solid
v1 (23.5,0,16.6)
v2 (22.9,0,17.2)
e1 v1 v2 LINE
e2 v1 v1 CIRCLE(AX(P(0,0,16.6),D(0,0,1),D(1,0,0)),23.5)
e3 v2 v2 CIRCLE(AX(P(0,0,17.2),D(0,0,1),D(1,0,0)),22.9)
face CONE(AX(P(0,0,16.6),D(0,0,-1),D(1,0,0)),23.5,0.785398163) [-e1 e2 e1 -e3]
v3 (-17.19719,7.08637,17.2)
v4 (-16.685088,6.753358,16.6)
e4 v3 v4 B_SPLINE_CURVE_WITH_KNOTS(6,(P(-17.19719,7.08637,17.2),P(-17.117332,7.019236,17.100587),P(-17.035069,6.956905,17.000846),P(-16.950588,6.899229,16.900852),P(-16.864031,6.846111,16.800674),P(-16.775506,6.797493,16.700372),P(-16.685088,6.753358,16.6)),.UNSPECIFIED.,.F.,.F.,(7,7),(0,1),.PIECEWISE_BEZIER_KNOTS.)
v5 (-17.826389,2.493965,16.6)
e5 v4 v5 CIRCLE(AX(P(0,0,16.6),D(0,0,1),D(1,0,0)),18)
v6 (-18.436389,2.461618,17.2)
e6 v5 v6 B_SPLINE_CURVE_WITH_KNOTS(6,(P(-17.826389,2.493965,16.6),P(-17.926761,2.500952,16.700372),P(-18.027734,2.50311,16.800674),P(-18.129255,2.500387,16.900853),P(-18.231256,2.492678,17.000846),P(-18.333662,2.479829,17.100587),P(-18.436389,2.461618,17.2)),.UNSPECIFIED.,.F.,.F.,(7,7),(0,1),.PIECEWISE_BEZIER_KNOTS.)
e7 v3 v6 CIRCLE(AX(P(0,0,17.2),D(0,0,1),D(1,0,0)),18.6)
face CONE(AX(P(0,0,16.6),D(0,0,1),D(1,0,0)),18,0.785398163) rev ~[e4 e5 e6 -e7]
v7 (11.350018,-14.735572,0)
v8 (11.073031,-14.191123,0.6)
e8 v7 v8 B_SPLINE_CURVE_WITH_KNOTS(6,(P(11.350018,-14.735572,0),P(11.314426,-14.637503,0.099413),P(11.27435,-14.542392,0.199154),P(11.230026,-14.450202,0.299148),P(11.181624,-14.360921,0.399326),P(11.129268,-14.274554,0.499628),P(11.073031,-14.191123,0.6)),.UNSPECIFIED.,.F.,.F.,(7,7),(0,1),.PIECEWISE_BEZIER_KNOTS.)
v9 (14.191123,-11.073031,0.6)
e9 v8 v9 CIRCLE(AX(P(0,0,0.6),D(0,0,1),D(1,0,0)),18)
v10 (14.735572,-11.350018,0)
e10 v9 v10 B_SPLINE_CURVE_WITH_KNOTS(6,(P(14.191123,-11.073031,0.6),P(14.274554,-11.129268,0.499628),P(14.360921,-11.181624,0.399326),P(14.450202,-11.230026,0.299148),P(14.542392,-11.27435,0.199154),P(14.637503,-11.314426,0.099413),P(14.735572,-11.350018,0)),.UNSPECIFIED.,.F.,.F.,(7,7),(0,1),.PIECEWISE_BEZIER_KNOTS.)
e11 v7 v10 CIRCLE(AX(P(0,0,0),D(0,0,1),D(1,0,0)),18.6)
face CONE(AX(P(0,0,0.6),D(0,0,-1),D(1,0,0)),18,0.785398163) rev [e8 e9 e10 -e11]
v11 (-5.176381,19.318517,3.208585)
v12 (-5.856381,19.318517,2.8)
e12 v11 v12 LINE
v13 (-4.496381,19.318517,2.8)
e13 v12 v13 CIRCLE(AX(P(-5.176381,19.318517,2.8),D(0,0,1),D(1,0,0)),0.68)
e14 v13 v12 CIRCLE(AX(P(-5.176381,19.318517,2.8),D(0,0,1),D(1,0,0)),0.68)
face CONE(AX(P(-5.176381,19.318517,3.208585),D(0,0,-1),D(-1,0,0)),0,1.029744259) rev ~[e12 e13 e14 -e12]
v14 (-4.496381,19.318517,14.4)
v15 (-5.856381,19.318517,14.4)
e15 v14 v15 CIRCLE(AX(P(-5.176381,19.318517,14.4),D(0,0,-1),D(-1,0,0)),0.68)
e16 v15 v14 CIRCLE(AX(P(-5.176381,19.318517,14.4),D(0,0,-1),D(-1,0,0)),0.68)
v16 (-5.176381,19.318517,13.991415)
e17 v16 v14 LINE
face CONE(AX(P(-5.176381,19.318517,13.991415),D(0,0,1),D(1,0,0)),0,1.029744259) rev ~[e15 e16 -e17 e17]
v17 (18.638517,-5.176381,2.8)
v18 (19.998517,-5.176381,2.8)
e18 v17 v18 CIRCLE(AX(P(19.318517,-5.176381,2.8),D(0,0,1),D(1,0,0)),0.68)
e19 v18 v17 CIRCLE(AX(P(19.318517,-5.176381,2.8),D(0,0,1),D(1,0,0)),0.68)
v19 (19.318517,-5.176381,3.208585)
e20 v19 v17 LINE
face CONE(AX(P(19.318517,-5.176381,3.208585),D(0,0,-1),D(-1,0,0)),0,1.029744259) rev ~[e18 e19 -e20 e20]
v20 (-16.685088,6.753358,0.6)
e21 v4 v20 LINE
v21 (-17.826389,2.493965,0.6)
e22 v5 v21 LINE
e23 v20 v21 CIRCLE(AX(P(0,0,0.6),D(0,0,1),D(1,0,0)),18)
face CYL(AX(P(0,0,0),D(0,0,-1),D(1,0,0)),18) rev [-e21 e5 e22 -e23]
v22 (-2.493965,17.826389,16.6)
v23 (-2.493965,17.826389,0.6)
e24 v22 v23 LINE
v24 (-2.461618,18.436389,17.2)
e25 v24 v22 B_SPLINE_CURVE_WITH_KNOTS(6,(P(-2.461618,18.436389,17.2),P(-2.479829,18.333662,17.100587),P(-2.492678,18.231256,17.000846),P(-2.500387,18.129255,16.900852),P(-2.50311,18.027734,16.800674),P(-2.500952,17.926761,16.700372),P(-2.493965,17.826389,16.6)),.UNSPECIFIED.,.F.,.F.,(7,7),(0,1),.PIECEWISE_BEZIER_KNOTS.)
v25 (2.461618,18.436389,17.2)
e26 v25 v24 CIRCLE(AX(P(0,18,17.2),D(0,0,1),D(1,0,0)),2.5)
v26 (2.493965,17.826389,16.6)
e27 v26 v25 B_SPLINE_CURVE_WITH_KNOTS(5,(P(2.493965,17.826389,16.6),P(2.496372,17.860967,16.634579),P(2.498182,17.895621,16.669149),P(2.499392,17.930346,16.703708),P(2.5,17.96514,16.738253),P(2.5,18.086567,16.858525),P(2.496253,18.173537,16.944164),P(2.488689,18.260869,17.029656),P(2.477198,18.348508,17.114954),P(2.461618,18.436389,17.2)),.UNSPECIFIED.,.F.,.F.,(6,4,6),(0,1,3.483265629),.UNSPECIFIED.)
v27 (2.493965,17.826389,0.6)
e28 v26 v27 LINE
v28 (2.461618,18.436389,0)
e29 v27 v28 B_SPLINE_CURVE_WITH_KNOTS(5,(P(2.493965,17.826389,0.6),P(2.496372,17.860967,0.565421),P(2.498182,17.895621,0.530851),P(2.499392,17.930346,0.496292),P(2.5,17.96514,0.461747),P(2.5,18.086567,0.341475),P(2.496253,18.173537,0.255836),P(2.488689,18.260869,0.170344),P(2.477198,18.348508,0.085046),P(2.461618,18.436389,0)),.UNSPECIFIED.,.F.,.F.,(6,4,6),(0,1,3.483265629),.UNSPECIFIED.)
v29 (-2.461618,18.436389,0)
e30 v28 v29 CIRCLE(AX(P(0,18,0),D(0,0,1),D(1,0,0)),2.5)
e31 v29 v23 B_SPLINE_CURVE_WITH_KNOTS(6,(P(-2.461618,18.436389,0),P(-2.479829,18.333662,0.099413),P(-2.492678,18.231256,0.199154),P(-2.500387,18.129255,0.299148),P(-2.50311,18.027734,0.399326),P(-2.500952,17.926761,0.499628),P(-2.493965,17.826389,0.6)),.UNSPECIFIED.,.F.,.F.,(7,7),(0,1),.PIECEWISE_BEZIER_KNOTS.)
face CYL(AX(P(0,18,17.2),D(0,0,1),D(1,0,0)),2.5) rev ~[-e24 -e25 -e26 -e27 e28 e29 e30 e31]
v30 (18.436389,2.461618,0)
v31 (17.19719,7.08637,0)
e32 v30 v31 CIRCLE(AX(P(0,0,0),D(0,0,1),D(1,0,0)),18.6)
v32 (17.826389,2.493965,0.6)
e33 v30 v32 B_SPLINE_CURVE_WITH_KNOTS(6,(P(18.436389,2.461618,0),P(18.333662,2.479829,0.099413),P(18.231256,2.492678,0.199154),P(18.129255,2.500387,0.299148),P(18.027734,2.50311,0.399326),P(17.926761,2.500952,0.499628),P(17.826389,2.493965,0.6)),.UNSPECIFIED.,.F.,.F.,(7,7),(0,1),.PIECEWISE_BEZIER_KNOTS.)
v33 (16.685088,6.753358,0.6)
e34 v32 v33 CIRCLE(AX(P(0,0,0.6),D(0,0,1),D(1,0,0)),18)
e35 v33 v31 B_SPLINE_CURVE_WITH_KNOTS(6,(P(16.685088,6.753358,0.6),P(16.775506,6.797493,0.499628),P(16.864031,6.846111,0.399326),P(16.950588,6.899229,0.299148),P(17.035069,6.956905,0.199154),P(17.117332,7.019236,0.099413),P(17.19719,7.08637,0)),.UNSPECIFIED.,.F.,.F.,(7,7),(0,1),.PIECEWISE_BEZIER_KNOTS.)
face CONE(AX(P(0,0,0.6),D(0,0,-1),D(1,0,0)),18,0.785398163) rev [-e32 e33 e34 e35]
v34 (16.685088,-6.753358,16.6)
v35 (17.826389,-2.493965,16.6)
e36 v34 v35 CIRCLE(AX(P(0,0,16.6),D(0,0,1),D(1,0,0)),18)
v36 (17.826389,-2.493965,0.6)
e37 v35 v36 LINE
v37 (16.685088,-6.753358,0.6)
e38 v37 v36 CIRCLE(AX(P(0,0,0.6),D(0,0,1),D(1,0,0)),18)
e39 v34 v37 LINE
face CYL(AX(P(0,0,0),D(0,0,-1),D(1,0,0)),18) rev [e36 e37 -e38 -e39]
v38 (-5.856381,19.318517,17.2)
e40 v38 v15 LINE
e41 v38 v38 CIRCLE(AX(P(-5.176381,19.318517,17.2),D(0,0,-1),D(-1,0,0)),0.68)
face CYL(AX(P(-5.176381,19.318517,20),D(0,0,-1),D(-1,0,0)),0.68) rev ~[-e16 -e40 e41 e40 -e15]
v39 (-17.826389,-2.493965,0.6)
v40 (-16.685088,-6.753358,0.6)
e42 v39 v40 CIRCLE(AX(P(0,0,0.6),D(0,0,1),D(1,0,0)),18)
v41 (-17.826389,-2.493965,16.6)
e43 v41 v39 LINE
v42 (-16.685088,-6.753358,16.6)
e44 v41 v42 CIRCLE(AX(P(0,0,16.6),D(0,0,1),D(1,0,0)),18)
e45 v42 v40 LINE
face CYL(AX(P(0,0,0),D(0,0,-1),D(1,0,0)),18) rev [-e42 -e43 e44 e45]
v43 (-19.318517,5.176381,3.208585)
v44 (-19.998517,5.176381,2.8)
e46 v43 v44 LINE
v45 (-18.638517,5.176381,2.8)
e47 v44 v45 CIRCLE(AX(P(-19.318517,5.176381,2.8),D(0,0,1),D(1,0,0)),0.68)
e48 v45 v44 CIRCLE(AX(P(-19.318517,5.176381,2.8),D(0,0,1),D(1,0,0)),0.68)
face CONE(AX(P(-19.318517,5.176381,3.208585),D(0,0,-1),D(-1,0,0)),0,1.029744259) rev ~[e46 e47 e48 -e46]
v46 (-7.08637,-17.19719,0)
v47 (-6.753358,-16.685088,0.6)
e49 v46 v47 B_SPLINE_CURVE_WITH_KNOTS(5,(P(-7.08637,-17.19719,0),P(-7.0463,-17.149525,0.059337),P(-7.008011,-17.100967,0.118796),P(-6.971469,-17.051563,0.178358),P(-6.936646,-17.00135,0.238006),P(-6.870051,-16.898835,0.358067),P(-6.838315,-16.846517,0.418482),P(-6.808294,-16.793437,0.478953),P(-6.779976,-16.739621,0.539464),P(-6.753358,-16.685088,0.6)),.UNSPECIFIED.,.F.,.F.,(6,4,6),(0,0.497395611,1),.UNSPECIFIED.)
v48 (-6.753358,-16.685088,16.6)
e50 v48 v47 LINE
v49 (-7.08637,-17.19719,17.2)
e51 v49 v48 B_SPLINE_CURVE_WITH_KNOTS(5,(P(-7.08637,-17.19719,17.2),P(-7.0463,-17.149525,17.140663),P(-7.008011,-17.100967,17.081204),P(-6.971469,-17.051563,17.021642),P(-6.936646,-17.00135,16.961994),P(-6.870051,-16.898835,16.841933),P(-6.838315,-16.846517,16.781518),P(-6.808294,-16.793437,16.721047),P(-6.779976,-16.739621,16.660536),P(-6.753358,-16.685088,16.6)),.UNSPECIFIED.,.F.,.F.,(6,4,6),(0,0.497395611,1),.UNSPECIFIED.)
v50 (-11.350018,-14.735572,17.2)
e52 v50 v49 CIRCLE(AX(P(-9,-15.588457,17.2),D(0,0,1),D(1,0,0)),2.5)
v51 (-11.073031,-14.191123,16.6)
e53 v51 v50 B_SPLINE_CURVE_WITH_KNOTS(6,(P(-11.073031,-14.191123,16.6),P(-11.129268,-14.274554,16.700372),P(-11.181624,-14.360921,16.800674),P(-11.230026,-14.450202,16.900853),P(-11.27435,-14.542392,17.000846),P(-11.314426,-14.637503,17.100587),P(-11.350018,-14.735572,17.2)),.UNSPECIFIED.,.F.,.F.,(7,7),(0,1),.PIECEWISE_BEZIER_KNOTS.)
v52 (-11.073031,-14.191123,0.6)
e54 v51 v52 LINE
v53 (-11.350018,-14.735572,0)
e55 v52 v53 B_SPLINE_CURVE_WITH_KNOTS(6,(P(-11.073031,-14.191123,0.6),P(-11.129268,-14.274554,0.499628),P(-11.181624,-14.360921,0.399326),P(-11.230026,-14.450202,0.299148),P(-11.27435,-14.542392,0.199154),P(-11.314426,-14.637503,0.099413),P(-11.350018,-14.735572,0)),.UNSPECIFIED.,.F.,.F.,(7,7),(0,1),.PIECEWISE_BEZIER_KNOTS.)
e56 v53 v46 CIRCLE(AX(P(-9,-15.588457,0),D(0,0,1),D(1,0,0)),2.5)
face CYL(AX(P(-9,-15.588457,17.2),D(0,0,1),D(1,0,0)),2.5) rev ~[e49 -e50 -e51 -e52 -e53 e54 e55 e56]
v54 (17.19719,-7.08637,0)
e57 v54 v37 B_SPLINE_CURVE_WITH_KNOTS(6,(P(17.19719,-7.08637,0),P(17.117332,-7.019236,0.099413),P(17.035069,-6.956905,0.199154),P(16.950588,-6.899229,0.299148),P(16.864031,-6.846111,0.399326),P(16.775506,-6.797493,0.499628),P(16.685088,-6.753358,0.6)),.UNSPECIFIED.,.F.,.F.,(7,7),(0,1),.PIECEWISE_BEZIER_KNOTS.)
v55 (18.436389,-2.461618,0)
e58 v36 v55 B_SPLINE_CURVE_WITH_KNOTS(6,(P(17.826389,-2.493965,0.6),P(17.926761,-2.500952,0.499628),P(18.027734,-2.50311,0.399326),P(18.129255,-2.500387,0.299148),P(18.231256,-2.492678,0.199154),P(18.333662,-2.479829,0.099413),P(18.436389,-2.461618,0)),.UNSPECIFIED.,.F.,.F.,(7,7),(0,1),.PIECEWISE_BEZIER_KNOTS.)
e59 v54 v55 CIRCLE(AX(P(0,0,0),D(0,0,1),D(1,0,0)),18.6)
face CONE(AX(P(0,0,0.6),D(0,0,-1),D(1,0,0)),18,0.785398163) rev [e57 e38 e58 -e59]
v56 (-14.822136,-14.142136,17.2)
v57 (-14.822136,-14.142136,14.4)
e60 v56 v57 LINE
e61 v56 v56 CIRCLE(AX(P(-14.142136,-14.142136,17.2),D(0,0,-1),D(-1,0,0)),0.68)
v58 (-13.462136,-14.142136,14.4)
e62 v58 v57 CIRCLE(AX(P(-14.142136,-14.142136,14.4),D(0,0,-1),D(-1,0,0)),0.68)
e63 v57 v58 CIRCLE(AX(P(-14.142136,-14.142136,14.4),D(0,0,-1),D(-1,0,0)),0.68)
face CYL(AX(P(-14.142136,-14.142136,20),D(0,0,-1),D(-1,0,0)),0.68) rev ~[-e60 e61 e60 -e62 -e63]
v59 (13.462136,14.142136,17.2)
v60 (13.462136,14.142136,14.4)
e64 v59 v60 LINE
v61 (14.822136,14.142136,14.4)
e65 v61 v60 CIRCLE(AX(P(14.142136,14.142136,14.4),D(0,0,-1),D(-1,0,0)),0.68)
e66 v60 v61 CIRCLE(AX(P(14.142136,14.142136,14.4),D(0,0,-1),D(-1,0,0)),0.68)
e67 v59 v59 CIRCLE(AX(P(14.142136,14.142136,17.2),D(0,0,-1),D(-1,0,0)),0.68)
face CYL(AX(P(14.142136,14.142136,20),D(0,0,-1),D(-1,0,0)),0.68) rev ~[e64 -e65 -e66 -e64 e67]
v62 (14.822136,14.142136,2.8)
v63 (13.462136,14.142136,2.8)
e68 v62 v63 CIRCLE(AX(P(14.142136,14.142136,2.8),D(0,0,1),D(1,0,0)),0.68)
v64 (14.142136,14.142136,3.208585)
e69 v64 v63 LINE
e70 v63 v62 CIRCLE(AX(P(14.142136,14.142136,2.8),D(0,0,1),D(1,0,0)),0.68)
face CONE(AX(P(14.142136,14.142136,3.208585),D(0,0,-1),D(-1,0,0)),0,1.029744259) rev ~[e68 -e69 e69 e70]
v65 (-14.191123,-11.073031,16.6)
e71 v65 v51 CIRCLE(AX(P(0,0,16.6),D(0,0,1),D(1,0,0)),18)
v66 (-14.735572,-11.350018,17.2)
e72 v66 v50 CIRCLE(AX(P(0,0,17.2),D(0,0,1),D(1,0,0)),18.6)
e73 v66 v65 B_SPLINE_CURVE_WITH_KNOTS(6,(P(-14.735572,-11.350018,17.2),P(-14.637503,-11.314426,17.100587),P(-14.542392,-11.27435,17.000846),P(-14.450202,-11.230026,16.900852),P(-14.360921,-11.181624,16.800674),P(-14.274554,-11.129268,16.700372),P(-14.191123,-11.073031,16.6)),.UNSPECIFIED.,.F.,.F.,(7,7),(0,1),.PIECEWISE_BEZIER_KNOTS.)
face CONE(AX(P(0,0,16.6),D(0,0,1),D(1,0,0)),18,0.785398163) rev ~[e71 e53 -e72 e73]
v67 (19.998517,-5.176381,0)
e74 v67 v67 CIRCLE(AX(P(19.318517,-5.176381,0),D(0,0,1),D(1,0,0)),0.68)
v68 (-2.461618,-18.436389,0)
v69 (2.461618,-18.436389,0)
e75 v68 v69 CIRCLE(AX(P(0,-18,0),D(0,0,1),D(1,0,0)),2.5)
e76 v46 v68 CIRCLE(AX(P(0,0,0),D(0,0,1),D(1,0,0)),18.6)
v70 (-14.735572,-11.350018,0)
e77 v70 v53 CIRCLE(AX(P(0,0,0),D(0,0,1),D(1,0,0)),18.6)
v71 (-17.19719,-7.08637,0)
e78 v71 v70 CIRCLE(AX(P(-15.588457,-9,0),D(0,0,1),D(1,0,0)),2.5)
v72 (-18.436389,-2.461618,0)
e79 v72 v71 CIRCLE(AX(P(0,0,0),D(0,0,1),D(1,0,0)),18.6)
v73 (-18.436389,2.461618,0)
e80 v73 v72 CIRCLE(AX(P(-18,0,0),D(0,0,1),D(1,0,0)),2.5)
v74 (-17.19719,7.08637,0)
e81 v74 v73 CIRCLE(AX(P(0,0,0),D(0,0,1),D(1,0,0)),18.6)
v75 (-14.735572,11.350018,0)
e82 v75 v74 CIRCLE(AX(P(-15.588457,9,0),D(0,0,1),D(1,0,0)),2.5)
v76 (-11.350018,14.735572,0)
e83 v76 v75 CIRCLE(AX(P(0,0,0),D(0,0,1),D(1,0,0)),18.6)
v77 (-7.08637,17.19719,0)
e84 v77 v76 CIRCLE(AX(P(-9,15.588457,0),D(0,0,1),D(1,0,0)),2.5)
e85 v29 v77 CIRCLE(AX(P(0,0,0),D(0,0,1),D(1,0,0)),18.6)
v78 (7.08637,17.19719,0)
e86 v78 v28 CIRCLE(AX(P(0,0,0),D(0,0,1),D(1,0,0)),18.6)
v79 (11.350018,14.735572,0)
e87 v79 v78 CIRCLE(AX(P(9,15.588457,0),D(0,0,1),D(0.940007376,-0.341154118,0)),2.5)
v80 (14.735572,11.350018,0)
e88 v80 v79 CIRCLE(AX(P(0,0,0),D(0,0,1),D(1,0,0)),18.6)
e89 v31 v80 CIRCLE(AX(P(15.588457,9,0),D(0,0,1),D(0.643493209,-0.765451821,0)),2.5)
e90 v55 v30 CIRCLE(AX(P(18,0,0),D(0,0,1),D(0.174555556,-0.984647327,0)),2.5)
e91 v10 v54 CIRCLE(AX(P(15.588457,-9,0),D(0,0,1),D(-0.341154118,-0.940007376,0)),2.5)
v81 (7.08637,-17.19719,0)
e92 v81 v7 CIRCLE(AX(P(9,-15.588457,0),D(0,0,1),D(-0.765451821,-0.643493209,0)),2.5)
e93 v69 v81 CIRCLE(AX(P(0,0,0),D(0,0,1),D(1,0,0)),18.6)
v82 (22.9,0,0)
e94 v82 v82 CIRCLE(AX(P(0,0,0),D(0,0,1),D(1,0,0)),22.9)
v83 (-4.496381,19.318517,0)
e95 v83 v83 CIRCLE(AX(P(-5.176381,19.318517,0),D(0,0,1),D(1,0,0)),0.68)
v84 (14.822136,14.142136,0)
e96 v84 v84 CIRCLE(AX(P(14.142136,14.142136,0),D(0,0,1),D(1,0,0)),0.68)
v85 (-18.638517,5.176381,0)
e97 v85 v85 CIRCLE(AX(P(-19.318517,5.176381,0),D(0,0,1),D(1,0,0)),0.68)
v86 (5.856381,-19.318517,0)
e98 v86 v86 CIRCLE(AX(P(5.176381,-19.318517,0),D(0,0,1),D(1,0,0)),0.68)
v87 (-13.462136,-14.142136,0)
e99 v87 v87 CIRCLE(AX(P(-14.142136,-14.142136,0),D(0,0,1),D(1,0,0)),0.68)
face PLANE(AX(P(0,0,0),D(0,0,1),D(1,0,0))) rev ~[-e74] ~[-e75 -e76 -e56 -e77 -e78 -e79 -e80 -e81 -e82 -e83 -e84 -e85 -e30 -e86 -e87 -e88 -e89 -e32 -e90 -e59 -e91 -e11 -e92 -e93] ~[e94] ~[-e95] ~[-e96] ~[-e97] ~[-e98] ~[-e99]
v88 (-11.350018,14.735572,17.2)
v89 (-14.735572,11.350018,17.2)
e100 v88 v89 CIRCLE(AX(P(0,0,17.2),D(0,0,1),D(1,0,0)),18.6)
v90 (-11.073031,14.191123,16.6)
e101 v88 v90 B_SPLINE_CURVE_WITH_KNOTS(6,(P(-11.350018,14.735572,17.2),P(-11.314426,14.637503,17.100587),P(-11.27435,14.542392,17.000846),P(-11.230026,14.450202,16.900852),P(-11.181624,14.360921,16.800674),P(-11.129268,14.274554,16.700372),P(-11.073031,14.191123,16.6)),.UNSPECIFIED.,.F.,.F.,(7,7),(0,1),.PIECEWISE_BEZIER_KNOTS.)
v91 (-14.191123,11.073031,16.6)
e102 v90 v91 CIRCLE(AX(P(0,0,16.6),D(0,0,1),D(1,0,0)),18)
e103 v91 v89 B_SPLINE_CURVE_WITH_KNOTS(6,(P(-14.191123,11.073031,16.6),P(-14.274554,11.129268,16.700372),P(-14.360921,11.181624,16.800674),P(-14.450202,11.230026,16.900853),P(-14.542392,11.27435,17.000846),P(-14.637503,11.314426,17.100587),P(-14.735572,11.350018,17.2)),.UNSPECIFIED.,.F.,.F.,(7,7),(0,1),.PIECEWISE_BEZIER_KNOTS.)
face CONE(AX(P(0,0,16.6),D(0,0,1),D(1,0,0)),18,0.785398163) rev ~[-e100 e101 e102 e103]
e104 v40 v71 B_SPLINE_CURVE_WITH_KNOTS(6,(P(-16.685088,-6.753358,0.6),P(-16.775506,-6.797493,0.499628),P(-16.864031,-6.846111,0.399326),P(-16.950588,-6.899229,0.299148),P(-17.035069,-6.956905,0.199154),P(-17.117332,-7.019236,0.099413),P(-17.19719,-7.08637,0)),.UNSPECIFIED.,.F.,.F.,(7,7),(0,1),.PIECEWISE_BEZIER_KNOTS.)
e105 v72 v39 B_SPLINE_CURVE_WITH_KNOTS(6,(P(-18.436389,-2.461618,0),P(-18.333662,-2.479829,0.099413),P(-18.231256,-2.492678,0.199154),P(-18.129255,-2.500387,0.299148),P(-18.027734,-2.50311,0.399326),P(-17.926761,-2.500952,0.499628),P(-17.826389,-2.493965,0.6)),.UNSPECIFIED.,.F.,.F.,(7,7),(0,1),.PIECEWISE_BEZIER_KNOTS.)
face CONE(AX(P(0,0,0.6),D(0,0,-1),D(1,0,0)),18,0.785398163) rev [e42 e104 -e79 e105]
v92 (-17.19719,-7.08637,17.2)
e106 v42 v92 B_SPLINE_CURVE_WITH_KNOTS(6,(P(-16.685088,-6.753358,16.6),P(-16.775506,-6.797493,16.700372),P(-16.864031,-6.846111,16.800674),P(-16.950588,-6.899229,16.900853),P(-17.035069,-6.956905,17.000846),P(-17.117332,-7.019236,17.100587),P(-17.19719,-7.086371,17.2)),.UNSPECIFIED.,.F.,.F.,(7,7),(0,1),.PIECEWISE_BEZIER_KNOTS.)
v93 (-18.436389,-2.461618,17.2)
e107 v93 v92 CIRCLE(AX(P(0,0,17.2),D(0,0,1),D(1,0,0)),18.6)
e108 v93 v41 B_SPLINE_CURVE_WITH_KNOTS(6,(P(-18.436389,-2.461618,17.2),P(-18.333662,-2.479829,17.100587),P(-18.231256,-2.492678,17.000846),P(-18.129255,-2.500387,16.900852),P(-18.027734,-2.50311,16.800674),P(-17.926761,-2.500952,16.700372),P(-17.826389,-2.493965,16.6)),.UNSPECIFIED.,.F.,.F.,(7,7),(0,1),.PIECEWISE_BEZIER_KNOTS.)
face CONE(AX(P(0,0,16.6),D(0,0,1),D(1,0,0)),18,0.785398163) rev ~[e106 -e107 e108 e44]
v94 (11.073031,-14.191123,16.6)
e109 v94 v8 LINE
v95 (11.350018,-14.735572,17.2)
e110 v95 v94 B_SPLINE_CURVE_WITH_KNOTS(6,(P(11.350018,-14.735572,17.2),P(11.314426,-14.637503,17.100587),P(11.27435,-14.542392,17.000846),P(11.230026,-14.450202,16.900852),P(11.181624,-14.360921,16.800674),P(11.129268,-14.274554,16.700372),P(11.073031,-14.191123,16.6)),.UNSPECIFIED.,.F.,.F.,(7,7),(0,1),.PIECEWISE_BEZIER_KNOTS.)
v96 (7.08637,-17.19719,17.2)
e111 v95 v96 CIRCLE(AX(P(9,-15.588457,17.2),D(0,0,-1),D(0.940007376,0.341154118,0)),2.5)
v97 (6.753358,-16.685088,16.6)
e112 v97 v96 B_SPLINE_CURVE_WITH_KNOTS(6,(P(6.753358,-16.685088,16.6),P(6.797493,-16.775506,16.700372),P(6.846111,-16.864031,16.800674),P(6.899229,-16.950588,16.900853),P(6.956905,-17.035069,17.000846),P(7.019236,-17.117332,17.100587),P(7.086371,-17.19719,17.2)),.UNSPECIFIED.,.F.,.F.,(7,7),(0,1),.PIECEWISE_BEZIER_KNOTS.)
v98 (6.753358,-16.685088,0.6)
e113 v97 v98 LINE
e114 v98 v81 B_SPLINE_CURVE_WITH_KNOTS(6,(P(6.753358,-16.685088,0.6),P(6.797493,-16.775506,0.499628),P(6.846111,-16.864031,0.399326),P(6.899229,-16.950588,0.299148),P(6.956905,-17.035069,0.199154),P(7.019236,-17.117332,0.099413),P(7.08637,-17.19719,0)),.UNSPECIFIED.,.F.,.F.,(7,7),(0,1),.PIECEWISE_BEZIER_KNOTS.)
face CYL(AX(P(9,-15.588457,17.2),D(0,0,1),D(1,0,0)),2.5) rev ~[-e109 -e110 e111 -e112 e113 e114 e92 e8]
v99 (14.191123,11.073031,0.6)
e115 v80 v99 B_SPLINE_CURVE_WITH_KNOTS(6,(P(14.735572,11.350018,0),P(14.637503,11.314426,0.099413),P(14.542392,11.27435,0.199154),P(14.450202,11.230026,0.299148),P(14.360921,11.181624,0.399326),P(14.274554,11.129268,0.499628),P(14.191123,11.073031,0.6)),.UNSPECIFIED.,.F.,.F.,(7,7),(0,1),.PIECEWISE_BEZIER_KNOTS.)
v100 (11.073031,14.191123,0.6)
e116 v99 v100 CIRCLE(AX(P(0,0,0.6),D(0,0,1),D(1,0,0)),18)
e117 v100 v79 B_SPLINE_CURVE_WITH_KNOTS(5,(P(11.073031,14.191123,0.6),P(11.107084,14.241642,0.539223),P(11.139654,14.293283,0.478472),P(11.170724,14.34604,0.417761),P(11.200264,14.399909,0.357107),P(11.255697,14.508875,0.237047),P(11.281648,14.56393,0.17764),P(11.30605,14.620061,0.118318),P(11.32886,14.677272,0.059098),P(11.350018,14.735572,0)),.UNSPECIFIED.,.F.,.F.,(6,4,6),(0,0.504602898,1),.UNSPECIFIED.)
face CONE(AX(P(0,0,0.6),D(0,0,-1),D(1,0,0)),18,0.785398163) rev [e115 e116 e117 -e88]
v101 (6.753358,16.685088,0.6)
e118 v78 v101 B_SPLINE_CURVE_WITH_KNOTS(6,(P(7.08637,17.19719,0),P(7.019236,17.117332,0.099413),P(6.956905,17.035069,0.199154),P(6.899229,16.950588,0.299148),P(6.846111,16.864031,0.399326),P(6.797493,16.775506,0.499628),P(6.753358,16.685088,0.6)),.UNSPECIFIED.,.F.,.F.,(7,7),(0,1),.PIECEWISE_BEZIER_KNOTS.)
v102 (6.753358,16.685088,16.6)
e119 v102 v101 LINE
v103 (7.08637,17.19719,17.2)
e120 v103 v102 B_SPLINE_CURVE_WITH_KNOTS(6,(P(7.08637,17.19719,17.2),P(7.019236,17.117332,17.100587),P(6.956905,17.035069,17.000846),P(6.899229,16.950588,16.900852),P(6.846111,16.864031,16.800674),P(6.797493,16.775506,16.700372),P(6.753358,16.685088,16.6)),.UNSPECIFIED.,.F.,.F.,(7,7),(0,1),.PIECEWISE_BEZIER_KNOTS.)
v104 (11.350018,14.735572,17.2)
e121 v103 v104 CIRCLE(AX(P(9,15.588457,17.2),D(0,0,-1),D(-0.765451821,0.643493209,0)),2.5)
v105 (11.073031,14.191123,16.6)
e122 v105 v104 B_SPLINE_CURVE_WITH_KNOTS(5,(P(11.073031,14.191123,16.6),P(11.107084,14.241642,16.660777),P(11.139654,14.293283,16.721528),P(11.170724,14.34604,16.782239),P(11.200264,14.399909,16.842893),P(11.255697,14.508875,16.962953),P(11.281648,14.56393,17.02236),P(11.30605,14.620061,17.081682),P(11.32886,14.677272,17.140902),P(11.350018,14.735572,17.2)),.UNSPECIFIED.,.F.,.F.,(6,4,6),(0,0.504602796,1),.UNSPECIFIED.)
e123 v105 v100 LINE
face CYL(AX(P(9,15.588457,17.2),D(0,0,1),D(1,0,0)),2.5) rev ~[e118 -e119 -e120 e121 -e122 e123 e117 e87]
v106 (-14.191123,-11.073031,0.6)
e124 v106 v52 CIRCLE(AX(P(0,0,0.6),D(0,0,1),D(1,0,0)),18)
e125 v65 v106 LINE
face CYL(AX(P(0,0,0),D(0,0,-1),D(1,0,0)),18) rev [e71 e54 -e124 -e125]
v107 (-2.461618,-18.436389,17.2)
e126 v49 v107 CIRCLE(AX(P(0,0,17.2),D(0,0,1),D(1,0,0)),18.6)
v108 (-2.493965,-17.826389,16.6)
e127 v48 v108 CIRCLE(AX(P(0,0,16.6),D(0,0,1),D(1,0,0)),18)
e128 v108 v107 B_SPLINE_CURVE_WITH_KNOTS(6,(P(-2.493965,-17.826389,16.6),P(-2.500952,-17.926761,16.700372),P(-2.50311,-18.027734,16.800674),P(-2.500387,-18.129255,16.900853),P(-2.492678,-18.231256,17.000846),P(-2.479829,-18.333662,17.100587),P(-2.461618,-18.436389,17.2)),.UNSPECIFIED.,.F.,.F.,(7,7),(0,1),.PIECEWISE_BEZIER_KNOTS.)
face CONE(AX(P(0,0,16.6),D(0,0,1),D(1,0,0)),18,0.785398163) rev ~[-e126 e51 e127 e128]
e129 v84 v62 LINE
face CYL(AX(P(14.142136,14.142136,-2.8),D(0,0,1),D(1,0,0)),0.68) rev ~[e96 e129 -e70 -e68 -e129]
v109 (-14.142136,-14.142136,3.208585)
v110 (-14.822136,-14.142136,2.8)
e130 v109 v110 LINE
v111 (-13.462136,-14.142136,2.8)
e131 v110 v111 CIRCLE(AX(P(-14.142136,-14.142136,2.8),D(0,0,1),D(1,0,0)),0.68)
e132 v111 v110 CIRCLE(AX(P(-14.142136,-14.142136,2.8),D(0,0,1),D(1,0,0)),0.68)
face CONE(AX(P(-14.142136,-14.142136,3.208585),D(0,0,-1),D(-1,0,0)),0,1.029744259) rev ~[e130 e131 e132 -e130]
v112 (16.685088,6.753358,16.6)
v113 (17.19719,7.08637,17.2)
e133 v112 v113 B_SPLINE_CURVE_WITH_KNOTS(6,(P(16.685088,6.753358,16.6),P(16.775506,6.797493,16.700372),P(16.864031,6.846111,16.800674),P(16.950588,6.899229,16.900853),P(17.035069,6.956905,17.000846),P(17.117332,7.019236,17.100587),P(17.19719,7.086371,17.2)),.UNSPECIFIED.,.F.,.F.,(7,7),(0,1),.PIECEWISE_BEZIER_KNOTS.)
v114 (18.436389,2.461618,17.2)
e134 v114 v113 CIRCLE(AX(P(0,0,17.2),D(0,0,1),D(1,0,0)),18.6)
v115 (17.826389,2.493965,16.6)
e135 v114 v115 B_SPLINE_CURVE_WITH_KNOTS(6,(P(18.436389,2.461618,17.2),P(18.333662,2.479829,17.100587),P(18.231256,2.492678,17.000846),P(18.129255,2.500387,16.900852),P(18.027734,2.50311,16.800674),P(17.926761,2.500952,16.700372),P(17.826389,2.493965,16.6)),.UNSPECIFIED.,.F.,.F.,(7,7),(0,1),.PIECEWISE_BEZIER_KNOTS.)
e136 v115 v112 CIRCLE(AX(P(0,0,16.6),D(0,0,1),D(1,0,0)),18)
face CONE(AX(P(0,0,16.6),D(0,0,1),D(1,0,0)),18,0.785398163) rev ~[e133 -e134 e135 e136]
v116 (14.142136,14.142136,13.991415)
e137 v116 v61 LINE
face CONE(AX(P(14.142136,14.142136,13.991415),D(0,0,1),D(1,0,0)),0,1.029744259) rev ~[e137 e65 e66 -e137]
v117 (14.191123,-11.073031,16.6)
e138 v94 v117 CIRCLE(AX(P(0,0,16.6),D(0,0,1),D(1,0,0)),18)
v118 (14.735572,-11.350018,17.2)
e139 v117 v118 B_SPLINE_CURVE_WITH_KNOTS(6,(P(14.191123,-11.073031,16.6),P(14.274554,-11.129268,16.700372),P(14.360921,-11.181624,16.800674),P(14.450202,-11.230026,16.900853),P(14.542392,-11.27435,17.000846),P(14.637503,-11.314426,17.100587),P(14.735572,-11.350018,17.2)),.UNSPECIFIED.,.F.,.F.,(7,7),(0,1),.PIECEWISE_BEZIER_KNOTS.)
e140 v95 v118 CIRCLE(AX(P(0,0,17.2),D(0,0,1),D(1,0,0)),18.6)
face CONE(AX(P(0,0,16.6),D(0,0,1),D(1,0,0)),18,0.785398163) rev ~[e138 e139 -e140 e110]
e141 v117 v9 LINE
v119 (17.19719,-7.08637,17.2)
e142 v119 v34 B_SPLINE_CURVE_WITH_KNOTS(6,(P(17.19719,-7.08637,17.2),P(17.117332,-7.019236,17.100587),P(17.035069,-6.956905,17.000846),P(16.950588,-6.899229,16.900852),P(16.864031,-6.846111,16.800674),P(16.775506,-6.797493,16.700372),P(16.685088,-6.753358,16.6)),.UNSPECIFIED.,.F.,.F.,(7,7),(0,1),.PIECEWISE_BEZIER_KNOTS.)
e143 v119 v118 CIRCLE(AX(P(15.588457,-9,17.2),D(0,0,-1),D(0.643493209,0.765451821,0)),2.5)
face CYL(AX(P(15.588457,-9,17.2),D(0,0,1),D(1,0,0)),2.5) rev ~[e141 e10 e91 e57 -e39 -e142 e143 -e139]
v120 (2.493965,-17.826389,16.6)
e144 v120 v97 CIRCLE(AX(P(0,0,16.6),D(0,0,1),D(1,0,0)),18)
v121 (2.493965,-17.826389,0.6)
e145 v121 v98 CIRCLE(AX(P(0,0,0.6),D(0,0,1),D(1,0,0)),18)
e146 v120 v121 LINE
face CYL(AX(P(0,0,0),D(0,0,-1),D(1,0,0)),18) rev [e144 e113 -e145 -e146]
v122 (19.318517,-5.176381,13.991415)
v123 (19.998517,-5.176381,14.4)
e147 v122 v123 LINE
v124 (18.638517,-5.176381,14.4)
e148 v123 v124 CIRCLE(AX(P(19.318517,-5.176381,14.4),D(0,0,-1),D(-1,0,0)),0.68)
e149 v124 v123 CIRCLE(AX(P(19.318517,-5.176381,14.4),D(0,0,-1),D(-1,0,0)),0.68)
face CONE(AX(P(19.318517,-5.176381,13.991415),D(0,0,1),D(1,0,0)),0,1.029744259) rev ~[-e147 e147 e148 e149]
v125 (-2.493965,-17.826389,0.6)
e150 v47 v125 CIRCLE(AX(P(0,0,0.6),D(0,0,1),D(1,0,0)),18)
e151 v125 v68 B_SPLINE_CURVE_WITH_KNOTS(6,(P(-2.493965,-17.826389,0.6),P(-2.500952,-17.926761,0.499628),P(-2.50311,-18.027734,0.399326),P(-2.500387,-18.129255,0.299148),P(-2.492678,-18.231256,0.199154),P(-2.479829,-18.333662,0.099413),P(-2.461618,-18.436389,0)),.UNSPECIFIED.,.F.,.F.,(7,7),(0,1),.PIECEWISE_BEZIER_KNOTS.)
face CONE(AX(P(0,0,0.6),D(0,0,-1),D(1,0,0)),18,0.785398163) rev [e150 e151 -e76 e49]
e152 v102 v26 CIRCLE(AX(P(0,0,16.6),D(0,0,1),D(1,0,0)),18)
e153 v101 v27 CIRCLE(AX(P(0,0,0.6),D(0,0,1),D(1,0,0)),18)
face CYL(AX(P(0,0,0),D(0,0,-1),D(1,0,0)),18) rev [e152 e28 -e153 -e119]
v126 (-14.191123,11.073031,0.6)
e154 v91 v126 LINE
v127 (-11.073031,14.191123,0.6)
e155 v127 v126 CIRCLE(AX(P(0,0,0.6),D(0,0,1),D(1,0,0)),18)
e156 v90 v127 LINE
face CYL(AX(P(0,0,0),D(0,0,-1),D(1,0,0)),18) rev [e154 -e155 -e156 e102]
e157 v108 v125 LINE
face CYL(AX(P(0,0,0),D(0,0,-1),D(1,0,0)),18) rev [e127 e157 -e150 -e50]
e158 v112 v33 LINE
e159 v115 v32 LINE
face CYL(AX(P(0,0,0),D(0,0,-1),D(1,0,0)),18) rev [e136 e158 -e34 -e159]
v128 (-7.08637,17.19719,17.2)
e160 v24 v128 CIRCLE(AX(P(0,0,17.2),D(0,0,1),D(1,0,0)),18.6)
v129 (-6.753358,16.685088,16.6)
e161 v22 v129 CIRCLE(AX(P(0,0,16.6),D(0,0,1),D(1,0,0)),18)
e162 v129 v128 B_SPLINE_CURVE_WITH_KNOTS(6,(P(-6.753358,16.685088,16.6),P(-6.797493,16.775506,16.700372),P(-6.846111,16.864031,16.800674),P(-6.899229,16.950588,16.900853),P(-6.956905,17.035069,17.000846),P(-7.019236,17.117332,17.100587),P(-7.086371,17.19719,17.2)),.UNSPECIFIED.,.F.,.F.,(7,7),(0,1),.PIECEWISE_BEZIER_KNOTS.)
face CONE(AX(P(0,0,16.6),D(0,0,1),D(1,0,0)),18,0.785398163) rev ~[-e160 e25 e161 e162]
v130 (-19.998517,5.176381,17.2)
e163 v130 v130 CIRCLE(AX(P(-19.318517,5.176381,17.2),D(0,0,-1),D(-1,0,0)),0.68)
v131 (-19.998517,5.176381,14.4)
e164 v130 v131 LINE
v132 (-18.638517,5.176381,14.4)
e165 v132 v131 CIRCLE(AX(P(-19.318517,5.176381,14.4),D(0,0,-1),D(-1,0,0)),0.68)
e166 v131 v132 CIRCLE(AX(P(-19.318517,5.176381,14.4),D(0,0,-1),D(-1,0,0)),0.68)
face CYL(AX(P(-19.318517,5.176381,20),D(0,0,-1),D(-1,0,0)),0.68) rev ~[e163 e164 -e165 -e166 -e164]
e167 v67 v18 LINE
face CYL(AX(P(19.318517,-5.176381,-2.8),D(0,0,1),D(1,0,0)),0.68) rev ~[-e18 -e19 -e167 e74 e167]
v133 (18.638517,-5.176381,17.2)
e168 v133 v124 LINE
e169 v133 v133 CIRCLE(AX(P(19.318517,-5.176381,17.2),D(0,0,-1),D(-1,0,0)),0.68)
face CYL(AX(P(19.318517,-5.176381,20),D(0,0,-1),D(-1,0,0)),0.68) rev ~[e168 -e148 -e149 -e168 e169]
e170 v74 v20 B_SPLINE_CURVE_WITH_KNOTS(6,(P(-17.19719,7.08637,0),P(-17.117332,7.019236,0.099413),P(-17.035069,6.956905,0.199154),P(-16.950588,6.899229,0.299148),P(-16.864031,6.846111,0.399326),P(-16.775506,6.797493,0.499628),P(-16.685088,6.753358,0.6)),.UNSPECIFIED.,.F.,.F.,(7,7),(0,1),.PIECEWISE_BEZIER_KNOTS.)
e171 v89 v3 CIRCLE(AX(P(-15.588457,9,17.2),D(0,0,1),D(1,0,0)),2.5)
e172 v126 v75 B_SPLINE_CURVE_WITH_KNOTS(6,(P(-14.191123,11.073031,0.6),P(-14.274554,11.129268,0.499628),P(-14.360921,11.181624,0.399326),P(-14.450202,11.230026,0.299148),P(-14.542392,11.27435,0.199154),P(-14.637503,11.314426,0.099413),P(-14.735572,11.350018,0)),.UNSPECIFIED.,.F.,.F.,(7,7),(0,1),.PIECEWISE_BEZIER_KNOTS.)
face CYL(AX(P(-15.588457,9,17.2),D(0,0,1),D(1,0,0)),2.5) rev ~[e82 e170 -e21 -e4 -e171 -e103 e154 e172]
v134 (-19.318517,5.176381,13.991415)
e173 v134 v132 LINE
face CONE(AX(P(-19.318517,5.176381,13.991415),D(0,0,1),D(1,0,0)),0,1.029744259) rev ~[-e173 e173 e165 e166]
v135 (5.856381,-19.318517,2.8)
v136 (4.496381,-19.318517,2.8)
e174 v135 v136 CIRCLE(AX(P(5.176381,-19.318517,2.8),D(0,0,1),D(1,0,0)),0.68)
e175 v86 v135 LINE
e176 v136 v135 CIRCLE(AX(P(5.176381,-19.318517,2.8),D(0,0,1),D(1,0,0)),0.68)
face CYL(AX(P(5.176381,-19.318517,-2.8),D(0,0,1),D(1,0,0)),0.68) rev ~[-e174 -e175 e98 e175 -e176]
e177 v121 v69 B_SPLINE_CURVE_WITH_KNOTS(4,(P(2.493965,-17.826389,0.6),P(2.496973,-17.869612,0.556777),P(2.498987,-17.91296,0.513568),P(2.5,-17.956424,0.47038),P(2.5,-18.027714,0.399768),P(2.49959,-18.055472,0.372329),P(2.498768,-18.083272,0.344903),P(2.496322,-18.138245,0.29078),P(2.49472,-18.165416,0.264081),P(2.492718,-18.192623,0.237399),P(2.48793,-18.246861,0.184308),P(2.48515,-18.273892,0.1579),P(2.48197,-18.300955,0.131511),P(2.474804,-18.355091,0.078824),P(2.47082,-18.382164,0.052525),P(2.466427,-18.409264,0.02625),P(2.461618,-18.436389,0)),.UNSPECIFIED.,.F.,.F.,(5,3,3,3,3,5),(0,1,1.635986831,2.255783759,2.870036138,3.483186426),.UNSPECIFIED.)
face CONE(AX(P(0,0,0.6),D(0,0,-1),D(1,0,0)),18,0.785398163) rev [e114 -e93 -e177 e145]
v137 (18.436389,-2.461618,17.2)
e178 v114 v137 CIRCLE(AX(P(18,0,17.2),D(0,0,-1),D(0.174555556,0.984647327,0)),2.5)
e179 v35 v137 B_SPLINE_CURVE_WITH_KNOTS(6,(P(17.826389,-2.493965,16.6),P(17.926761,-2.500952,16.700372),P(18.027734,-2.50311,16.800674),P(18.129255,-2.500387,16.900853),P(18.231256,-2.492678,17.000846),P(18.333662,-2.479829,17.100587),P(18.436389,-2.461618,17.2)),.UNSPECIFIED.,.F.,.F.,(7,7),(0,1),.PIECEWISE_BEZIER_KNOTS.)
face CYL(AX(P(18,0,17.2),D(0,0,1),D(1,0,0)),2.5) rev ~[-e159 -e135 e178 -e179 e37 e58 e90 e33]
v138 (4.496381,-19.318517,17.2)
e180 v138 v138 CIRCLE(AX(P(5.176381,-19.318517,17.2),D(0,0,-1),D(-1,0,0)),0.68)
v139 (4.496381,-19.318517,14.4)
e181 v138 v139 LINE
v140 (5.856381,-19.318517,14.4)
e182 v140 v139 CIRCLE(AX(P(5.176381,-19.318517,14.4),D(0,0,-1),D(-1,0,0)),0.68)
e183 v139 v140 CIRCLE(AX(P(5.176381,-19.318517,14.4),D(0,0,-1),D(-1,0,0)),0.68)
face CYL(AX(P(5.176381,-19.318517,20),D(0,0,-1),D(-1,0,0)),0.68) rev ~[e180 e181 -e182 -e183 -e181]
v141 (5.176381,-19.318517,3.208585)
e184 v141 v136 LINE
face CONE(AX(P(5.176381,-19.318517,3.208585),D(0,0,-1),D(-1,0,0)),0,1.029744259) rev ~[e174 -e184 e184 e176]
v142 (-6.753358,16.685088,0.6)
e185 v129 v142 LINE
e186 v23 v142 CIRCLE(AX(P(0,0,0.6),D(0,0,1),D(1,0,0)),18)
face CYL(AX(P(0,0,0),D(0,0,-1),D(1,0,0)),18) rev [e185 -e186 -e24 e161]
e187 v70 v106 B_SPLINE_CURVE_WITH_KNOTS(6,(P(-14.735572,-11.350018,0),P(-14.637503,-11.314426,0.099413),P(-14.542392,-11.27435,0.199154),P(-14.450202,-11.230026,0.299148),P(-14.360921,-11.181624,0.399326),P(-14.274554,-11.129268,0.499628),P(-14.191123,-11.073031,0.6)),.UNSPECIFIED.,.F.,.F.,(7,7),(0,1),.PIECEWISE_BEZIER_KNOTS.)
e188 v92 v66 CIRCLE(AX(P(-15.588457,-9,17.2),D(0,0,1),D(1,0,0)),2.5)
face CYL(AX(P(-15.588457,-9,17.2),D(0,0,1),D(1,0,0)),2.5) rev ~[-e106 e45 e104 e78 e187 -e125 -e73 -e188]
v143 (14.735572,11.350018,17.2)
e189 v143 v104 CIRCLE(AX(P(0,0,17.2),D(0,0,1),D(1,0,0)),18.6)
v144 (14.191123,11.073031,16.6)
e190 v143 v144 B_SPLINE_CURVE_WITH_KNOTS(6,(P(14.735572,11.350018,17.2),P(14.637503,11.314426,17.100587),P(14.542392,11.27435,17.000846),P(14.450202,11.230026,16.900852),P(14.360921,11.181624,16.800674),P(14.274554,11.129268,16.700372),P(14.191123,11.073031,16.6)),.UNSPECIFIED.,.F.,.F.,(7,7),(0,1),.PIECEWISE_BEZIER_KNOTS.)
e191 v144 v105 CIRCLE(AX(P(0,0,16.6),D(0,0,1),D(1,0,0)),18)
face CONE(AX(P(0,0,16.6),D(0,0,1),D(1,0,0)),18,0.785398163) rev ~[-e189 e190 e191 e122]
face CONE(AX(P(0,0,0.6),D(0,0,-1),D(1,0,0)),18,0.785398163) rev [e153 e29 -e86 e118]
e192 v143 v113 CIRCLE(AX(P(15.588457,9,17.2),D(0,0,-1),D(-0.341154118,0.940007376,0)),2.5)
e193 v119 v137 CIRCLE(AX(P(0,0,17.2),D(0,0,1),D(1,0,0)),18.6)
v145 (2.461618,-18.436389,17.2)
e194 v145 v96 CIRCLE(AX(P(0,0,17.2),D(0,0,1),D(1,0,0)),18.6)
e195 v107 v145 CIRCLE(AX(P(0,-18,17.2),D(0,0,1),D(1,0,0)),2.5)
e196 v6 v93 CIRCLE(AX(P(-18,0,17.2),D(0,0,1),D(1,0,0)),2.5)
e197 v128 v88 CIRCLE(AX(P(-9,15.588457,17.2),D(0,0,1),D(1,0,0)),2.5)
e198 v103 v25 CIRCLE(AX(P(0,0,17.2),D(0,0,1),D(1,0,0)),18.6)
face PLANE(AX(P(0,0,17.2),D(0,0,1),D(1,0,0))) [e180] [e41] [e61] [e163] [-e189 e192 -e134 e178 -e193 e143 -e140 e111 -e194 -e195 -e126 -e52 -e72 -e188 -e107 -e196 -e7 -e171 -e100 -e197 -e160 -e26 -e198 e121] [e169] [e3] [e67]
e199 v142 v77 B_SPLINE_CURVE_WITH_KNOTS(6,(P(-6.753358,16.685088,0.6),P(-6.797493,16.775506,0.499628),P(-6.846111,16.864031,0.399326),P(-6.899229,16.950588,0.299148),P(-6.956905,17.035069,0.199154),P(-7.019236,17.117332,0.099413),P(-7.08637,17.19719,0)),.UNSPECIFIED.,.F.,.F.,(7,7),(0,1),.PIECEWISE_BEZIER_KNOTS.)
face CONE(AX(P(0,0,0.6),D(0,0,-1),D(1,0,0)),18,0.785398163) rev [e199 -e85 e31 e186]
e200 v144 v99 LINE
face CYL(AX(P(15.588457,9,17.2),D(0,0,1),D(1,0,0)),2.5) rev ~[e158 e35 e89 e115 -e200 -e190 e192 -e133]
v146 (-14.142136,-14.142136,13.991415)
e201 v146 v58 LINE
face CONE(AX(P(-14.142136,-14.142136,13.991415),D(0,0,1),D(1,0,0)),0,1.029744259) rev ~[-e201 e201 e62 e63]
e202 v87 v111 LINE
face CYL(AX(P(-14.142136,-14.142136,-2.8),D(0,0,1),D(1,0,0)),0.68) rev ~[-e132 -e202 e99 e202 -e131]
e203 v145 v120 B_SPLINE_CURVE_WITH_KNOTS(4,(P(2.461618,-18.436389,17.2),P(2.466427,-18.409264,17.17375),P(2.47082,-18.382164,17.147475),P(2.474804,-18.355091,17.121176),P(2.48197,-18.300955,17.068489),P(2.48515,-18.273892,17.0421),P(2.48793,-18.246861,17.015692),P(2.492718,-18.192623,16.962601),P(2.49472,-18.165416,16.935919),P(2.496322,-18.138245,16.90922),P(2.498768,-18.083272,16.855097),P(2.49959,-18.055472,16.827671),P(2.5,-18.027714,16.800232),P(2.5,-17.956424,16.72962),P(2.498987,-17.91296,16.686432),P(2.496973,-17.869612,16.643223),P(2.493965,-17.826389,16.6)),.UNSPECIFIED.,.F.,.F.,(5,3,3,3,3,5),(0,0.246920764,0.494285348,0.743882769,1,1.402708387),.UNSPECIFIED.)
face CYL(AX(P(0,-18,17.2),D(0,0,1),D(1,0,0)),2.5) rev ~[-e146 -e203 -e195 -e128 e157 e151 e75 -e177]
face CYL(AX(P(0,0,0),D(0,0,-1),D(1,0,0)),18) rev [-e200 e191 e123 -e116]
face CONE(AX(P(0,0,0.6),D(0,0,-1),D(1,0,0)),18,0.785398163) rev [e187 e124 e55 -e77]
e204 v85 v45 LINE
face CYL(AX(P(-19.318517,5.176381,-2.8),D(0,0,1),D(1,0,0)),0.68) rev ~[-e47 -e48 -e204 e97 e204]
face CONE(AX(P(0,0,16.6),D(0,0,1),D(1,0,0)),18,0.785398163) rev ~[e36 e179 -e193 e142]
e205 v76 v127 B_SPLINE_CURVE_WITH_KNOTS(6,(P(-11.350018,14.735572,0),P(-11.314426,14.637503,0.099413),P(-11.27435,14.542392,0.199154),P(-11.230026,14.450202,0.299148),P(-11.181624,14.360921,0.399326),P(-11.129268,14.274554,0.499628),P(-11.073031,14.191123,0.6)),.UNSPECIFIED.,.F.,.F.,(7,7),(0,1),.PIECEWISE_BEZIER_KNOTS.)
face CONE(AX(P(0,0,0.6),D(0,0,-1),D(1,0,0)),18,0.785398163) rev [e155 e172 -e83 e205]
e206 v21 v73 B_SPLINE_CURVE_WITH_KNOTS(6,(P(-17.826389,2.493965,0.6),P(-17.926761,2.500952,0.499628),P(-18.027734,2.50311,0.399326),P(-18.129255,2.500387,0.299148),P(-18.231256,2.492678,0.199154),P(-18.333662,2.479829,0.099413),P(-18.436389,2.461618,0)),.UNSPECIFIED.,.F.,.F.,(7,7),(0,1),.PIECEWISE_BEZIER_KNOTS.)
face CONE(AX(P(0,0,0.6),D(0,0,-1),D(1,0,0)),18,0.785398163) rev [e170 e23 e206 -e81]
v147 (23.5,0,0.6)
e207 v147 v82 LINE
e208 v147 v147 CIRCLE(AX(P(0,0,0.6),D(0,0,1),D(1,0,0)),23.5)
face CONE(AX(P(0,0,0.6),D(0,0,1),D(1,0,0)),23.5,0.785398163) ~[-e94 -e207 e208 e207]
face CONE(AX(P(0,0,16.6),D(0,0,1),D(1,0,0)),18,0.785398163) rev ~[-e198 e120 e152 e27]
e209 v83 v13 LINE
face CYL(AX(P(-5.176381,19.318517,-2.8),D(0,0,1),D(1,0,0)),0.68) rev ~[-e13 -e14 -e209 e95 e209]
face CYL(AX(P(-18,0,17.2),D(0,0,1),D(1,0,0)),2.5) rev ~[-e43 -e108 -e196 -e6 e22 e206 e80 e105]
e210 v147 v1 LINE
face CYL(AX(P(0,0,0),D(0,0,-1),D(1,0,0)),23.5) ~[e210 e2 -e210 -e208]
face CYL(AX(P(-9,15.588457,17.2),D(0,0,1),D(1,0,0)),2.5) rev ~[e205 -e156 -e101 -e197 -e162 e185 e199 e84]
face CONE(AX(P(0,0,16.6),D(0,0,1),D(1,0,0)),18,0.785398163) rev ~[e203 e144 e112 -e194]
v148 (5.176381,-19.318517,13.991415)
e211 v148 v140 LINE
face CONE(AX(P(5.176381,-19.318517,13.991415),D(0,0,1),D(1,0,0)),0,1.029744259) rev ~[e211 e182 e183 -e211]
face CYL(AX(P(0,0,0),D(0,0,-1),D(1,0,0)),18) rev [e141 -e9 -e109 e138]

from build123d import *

# Parameters (mm, degrees)
SKETCH_1_R                       = 117.5
SKETCH_1_R_2                     = 90
EXTRUDE_1_DEPTH                  = 86
CHAMFER_1_SIZE                   = 3
SKETCH_2_R                       = 12.5
CUT_EXTRUDE_1_DEPTH              = 188.105585165
HOLE_WIZARD_M8_1_D               = 6.8
HOLE_WIZARD_M8_1_DEPTH           = 14
HOLE_WIZARD_M8_1_TIP             = 2.042926105
HOLE_WIZARD_M8_1_ON_FACE_2_D     = 6.8
HOLE_WIZARD_M8_1_ON_FACE_2_DEPTH = 14
HOLE_WIZARD_M8_1_ON_FACE_2_TIP   = 2.042926105
SCALE_1_SCALE                    = 0.2


with BuildPart() as part:
    # 草图1 → 凸台-拉伸1 (new body)
    with BuildSketch(Plane.XY):
        Circle(SKETCH_1_R)
        Circle(SKETCH_1_R_2, mode=Mode.SUBTRACT)
    extrude(amount=EXTRUDE_1_DEPTH)

    # 倒角1
    chamfer_1_edges = [part.edges().sort_by_distance(p)[0] for p in [
        (-117.5, 0, 0),
        (-117.5, 0, 86),
        (-90, 0, 0),
        (-90, 0, 86),
    ]]
    chamfer(chamfer_1_edges, length=CHAMFER_1_SIZE)

    # 草图2 → 切除-拉伸1 (cut, through all)
    with BuildSketch(Plane.XY.offset(86)):
        with Locations((0, 90)):
            Circle(SKETCH_2_R)
        with Locations((45, 77.942286341)):
            Circle(SKETCH_2_R)
        with Locations((77.942286341, 45)):
            Circle(SKETCH_2_R)
        with Locations((90, 0)):
            Circle(SKETCH_2_R)
        with Locations((77.942286341, -45)):
            Circle(SKETCH_2_R)
        with Locations((45, -77.942286341)):
            Circle(SKETCH_2_R)
        with Locations((0, -90)):
            Circle(SKETCH_2_R)
        with Locations((-45, -77.942286341)):
            Circle(SKETCH_2_R)
        with Locations((-77.942286341, -45)):
            Circle(SKETCH_2_R)
        with Locations((-90, 0)):
            Circle(SKETCH_2_R)
        with Locations((-77.942286341, 45)):
            Circle(SKETCH_2_R)
        with Locations((-45, 77.942286341)):
            Circle(SKETCH_2_R)
    extrude(amount=-CUT_EXTRUDE_1_DEPTH, mode=Mode.SUBTRACT)

    # M8 螺纹孔1
    with Locations(Plane(origin=(-25.88190451, 96.592582629, 86), x_dir=(1, 0, 0), z_dir=(0, 0, 1))):
        with Locations((0, 0), (96.592582629, -25.88190451), (-70.710678119, -70.710678119), (-44.828773609, -167.303260748), (51.76380902, -193.185165258), (122.474487139, -122.474487139)):
            Hole(HOLE_WIZARD_M8_1_D / 2, depth=HOLE_WIZARD_M8_1_DEPTH)
            with Locations((0, 0, -(HOLE_WIZARD_M8_1_DEPTH + HOLE_WIZARD_M8_1_TIP / 2))):  # 118° drill point
                Cone(0, HOLE_WIZARD_M8_1_D / 2, HOLE_WIZARD_M8_1_TIP, mode=Mode.SUBTRACT)

    # M8 螺纹孔1 on face 2
    with Locations(Plane(origin=(70.710678119, 70.710678119, 0), x_dir=(-1, 0, 0), z_dir=(0, 0, -1))):
        with Locations((0, 0), (96.592582629, 25.88190451), (167.303260748, -44.828773609), (141.421356238, -141.421356238), (44.828773609, -167.303260748), (-25.88190451, -96.592582629)):
            Hole(HOLE_WIZARD_M8_1_ON_FACE_2_D / 2, depth=HOLE_WIZARD_M8_1_ON_FACE_2_DEPTH)
            with Locations((0, 0, -(HOLE_WIZARD_M8_1_ON_FACE_2_DEPTH + HOLE_WIZARD_M8_1_ON_FACE_2_TIP / 2))):  # 118° drill point
                Cone(0, HOLE_WIZARD_M8_1_ON_FACE_2_D / 2, HOLE_WIZARD_M8_1_ON_FACE_2_TIP, mode=Mode.SUBTRACT)


with BuildPart() as part_1:
    # 缩放比例1: scaled about (0, 0, 0)
    add(part.part.scale(SCALE_1_SCALE))


solid = part_1.part
